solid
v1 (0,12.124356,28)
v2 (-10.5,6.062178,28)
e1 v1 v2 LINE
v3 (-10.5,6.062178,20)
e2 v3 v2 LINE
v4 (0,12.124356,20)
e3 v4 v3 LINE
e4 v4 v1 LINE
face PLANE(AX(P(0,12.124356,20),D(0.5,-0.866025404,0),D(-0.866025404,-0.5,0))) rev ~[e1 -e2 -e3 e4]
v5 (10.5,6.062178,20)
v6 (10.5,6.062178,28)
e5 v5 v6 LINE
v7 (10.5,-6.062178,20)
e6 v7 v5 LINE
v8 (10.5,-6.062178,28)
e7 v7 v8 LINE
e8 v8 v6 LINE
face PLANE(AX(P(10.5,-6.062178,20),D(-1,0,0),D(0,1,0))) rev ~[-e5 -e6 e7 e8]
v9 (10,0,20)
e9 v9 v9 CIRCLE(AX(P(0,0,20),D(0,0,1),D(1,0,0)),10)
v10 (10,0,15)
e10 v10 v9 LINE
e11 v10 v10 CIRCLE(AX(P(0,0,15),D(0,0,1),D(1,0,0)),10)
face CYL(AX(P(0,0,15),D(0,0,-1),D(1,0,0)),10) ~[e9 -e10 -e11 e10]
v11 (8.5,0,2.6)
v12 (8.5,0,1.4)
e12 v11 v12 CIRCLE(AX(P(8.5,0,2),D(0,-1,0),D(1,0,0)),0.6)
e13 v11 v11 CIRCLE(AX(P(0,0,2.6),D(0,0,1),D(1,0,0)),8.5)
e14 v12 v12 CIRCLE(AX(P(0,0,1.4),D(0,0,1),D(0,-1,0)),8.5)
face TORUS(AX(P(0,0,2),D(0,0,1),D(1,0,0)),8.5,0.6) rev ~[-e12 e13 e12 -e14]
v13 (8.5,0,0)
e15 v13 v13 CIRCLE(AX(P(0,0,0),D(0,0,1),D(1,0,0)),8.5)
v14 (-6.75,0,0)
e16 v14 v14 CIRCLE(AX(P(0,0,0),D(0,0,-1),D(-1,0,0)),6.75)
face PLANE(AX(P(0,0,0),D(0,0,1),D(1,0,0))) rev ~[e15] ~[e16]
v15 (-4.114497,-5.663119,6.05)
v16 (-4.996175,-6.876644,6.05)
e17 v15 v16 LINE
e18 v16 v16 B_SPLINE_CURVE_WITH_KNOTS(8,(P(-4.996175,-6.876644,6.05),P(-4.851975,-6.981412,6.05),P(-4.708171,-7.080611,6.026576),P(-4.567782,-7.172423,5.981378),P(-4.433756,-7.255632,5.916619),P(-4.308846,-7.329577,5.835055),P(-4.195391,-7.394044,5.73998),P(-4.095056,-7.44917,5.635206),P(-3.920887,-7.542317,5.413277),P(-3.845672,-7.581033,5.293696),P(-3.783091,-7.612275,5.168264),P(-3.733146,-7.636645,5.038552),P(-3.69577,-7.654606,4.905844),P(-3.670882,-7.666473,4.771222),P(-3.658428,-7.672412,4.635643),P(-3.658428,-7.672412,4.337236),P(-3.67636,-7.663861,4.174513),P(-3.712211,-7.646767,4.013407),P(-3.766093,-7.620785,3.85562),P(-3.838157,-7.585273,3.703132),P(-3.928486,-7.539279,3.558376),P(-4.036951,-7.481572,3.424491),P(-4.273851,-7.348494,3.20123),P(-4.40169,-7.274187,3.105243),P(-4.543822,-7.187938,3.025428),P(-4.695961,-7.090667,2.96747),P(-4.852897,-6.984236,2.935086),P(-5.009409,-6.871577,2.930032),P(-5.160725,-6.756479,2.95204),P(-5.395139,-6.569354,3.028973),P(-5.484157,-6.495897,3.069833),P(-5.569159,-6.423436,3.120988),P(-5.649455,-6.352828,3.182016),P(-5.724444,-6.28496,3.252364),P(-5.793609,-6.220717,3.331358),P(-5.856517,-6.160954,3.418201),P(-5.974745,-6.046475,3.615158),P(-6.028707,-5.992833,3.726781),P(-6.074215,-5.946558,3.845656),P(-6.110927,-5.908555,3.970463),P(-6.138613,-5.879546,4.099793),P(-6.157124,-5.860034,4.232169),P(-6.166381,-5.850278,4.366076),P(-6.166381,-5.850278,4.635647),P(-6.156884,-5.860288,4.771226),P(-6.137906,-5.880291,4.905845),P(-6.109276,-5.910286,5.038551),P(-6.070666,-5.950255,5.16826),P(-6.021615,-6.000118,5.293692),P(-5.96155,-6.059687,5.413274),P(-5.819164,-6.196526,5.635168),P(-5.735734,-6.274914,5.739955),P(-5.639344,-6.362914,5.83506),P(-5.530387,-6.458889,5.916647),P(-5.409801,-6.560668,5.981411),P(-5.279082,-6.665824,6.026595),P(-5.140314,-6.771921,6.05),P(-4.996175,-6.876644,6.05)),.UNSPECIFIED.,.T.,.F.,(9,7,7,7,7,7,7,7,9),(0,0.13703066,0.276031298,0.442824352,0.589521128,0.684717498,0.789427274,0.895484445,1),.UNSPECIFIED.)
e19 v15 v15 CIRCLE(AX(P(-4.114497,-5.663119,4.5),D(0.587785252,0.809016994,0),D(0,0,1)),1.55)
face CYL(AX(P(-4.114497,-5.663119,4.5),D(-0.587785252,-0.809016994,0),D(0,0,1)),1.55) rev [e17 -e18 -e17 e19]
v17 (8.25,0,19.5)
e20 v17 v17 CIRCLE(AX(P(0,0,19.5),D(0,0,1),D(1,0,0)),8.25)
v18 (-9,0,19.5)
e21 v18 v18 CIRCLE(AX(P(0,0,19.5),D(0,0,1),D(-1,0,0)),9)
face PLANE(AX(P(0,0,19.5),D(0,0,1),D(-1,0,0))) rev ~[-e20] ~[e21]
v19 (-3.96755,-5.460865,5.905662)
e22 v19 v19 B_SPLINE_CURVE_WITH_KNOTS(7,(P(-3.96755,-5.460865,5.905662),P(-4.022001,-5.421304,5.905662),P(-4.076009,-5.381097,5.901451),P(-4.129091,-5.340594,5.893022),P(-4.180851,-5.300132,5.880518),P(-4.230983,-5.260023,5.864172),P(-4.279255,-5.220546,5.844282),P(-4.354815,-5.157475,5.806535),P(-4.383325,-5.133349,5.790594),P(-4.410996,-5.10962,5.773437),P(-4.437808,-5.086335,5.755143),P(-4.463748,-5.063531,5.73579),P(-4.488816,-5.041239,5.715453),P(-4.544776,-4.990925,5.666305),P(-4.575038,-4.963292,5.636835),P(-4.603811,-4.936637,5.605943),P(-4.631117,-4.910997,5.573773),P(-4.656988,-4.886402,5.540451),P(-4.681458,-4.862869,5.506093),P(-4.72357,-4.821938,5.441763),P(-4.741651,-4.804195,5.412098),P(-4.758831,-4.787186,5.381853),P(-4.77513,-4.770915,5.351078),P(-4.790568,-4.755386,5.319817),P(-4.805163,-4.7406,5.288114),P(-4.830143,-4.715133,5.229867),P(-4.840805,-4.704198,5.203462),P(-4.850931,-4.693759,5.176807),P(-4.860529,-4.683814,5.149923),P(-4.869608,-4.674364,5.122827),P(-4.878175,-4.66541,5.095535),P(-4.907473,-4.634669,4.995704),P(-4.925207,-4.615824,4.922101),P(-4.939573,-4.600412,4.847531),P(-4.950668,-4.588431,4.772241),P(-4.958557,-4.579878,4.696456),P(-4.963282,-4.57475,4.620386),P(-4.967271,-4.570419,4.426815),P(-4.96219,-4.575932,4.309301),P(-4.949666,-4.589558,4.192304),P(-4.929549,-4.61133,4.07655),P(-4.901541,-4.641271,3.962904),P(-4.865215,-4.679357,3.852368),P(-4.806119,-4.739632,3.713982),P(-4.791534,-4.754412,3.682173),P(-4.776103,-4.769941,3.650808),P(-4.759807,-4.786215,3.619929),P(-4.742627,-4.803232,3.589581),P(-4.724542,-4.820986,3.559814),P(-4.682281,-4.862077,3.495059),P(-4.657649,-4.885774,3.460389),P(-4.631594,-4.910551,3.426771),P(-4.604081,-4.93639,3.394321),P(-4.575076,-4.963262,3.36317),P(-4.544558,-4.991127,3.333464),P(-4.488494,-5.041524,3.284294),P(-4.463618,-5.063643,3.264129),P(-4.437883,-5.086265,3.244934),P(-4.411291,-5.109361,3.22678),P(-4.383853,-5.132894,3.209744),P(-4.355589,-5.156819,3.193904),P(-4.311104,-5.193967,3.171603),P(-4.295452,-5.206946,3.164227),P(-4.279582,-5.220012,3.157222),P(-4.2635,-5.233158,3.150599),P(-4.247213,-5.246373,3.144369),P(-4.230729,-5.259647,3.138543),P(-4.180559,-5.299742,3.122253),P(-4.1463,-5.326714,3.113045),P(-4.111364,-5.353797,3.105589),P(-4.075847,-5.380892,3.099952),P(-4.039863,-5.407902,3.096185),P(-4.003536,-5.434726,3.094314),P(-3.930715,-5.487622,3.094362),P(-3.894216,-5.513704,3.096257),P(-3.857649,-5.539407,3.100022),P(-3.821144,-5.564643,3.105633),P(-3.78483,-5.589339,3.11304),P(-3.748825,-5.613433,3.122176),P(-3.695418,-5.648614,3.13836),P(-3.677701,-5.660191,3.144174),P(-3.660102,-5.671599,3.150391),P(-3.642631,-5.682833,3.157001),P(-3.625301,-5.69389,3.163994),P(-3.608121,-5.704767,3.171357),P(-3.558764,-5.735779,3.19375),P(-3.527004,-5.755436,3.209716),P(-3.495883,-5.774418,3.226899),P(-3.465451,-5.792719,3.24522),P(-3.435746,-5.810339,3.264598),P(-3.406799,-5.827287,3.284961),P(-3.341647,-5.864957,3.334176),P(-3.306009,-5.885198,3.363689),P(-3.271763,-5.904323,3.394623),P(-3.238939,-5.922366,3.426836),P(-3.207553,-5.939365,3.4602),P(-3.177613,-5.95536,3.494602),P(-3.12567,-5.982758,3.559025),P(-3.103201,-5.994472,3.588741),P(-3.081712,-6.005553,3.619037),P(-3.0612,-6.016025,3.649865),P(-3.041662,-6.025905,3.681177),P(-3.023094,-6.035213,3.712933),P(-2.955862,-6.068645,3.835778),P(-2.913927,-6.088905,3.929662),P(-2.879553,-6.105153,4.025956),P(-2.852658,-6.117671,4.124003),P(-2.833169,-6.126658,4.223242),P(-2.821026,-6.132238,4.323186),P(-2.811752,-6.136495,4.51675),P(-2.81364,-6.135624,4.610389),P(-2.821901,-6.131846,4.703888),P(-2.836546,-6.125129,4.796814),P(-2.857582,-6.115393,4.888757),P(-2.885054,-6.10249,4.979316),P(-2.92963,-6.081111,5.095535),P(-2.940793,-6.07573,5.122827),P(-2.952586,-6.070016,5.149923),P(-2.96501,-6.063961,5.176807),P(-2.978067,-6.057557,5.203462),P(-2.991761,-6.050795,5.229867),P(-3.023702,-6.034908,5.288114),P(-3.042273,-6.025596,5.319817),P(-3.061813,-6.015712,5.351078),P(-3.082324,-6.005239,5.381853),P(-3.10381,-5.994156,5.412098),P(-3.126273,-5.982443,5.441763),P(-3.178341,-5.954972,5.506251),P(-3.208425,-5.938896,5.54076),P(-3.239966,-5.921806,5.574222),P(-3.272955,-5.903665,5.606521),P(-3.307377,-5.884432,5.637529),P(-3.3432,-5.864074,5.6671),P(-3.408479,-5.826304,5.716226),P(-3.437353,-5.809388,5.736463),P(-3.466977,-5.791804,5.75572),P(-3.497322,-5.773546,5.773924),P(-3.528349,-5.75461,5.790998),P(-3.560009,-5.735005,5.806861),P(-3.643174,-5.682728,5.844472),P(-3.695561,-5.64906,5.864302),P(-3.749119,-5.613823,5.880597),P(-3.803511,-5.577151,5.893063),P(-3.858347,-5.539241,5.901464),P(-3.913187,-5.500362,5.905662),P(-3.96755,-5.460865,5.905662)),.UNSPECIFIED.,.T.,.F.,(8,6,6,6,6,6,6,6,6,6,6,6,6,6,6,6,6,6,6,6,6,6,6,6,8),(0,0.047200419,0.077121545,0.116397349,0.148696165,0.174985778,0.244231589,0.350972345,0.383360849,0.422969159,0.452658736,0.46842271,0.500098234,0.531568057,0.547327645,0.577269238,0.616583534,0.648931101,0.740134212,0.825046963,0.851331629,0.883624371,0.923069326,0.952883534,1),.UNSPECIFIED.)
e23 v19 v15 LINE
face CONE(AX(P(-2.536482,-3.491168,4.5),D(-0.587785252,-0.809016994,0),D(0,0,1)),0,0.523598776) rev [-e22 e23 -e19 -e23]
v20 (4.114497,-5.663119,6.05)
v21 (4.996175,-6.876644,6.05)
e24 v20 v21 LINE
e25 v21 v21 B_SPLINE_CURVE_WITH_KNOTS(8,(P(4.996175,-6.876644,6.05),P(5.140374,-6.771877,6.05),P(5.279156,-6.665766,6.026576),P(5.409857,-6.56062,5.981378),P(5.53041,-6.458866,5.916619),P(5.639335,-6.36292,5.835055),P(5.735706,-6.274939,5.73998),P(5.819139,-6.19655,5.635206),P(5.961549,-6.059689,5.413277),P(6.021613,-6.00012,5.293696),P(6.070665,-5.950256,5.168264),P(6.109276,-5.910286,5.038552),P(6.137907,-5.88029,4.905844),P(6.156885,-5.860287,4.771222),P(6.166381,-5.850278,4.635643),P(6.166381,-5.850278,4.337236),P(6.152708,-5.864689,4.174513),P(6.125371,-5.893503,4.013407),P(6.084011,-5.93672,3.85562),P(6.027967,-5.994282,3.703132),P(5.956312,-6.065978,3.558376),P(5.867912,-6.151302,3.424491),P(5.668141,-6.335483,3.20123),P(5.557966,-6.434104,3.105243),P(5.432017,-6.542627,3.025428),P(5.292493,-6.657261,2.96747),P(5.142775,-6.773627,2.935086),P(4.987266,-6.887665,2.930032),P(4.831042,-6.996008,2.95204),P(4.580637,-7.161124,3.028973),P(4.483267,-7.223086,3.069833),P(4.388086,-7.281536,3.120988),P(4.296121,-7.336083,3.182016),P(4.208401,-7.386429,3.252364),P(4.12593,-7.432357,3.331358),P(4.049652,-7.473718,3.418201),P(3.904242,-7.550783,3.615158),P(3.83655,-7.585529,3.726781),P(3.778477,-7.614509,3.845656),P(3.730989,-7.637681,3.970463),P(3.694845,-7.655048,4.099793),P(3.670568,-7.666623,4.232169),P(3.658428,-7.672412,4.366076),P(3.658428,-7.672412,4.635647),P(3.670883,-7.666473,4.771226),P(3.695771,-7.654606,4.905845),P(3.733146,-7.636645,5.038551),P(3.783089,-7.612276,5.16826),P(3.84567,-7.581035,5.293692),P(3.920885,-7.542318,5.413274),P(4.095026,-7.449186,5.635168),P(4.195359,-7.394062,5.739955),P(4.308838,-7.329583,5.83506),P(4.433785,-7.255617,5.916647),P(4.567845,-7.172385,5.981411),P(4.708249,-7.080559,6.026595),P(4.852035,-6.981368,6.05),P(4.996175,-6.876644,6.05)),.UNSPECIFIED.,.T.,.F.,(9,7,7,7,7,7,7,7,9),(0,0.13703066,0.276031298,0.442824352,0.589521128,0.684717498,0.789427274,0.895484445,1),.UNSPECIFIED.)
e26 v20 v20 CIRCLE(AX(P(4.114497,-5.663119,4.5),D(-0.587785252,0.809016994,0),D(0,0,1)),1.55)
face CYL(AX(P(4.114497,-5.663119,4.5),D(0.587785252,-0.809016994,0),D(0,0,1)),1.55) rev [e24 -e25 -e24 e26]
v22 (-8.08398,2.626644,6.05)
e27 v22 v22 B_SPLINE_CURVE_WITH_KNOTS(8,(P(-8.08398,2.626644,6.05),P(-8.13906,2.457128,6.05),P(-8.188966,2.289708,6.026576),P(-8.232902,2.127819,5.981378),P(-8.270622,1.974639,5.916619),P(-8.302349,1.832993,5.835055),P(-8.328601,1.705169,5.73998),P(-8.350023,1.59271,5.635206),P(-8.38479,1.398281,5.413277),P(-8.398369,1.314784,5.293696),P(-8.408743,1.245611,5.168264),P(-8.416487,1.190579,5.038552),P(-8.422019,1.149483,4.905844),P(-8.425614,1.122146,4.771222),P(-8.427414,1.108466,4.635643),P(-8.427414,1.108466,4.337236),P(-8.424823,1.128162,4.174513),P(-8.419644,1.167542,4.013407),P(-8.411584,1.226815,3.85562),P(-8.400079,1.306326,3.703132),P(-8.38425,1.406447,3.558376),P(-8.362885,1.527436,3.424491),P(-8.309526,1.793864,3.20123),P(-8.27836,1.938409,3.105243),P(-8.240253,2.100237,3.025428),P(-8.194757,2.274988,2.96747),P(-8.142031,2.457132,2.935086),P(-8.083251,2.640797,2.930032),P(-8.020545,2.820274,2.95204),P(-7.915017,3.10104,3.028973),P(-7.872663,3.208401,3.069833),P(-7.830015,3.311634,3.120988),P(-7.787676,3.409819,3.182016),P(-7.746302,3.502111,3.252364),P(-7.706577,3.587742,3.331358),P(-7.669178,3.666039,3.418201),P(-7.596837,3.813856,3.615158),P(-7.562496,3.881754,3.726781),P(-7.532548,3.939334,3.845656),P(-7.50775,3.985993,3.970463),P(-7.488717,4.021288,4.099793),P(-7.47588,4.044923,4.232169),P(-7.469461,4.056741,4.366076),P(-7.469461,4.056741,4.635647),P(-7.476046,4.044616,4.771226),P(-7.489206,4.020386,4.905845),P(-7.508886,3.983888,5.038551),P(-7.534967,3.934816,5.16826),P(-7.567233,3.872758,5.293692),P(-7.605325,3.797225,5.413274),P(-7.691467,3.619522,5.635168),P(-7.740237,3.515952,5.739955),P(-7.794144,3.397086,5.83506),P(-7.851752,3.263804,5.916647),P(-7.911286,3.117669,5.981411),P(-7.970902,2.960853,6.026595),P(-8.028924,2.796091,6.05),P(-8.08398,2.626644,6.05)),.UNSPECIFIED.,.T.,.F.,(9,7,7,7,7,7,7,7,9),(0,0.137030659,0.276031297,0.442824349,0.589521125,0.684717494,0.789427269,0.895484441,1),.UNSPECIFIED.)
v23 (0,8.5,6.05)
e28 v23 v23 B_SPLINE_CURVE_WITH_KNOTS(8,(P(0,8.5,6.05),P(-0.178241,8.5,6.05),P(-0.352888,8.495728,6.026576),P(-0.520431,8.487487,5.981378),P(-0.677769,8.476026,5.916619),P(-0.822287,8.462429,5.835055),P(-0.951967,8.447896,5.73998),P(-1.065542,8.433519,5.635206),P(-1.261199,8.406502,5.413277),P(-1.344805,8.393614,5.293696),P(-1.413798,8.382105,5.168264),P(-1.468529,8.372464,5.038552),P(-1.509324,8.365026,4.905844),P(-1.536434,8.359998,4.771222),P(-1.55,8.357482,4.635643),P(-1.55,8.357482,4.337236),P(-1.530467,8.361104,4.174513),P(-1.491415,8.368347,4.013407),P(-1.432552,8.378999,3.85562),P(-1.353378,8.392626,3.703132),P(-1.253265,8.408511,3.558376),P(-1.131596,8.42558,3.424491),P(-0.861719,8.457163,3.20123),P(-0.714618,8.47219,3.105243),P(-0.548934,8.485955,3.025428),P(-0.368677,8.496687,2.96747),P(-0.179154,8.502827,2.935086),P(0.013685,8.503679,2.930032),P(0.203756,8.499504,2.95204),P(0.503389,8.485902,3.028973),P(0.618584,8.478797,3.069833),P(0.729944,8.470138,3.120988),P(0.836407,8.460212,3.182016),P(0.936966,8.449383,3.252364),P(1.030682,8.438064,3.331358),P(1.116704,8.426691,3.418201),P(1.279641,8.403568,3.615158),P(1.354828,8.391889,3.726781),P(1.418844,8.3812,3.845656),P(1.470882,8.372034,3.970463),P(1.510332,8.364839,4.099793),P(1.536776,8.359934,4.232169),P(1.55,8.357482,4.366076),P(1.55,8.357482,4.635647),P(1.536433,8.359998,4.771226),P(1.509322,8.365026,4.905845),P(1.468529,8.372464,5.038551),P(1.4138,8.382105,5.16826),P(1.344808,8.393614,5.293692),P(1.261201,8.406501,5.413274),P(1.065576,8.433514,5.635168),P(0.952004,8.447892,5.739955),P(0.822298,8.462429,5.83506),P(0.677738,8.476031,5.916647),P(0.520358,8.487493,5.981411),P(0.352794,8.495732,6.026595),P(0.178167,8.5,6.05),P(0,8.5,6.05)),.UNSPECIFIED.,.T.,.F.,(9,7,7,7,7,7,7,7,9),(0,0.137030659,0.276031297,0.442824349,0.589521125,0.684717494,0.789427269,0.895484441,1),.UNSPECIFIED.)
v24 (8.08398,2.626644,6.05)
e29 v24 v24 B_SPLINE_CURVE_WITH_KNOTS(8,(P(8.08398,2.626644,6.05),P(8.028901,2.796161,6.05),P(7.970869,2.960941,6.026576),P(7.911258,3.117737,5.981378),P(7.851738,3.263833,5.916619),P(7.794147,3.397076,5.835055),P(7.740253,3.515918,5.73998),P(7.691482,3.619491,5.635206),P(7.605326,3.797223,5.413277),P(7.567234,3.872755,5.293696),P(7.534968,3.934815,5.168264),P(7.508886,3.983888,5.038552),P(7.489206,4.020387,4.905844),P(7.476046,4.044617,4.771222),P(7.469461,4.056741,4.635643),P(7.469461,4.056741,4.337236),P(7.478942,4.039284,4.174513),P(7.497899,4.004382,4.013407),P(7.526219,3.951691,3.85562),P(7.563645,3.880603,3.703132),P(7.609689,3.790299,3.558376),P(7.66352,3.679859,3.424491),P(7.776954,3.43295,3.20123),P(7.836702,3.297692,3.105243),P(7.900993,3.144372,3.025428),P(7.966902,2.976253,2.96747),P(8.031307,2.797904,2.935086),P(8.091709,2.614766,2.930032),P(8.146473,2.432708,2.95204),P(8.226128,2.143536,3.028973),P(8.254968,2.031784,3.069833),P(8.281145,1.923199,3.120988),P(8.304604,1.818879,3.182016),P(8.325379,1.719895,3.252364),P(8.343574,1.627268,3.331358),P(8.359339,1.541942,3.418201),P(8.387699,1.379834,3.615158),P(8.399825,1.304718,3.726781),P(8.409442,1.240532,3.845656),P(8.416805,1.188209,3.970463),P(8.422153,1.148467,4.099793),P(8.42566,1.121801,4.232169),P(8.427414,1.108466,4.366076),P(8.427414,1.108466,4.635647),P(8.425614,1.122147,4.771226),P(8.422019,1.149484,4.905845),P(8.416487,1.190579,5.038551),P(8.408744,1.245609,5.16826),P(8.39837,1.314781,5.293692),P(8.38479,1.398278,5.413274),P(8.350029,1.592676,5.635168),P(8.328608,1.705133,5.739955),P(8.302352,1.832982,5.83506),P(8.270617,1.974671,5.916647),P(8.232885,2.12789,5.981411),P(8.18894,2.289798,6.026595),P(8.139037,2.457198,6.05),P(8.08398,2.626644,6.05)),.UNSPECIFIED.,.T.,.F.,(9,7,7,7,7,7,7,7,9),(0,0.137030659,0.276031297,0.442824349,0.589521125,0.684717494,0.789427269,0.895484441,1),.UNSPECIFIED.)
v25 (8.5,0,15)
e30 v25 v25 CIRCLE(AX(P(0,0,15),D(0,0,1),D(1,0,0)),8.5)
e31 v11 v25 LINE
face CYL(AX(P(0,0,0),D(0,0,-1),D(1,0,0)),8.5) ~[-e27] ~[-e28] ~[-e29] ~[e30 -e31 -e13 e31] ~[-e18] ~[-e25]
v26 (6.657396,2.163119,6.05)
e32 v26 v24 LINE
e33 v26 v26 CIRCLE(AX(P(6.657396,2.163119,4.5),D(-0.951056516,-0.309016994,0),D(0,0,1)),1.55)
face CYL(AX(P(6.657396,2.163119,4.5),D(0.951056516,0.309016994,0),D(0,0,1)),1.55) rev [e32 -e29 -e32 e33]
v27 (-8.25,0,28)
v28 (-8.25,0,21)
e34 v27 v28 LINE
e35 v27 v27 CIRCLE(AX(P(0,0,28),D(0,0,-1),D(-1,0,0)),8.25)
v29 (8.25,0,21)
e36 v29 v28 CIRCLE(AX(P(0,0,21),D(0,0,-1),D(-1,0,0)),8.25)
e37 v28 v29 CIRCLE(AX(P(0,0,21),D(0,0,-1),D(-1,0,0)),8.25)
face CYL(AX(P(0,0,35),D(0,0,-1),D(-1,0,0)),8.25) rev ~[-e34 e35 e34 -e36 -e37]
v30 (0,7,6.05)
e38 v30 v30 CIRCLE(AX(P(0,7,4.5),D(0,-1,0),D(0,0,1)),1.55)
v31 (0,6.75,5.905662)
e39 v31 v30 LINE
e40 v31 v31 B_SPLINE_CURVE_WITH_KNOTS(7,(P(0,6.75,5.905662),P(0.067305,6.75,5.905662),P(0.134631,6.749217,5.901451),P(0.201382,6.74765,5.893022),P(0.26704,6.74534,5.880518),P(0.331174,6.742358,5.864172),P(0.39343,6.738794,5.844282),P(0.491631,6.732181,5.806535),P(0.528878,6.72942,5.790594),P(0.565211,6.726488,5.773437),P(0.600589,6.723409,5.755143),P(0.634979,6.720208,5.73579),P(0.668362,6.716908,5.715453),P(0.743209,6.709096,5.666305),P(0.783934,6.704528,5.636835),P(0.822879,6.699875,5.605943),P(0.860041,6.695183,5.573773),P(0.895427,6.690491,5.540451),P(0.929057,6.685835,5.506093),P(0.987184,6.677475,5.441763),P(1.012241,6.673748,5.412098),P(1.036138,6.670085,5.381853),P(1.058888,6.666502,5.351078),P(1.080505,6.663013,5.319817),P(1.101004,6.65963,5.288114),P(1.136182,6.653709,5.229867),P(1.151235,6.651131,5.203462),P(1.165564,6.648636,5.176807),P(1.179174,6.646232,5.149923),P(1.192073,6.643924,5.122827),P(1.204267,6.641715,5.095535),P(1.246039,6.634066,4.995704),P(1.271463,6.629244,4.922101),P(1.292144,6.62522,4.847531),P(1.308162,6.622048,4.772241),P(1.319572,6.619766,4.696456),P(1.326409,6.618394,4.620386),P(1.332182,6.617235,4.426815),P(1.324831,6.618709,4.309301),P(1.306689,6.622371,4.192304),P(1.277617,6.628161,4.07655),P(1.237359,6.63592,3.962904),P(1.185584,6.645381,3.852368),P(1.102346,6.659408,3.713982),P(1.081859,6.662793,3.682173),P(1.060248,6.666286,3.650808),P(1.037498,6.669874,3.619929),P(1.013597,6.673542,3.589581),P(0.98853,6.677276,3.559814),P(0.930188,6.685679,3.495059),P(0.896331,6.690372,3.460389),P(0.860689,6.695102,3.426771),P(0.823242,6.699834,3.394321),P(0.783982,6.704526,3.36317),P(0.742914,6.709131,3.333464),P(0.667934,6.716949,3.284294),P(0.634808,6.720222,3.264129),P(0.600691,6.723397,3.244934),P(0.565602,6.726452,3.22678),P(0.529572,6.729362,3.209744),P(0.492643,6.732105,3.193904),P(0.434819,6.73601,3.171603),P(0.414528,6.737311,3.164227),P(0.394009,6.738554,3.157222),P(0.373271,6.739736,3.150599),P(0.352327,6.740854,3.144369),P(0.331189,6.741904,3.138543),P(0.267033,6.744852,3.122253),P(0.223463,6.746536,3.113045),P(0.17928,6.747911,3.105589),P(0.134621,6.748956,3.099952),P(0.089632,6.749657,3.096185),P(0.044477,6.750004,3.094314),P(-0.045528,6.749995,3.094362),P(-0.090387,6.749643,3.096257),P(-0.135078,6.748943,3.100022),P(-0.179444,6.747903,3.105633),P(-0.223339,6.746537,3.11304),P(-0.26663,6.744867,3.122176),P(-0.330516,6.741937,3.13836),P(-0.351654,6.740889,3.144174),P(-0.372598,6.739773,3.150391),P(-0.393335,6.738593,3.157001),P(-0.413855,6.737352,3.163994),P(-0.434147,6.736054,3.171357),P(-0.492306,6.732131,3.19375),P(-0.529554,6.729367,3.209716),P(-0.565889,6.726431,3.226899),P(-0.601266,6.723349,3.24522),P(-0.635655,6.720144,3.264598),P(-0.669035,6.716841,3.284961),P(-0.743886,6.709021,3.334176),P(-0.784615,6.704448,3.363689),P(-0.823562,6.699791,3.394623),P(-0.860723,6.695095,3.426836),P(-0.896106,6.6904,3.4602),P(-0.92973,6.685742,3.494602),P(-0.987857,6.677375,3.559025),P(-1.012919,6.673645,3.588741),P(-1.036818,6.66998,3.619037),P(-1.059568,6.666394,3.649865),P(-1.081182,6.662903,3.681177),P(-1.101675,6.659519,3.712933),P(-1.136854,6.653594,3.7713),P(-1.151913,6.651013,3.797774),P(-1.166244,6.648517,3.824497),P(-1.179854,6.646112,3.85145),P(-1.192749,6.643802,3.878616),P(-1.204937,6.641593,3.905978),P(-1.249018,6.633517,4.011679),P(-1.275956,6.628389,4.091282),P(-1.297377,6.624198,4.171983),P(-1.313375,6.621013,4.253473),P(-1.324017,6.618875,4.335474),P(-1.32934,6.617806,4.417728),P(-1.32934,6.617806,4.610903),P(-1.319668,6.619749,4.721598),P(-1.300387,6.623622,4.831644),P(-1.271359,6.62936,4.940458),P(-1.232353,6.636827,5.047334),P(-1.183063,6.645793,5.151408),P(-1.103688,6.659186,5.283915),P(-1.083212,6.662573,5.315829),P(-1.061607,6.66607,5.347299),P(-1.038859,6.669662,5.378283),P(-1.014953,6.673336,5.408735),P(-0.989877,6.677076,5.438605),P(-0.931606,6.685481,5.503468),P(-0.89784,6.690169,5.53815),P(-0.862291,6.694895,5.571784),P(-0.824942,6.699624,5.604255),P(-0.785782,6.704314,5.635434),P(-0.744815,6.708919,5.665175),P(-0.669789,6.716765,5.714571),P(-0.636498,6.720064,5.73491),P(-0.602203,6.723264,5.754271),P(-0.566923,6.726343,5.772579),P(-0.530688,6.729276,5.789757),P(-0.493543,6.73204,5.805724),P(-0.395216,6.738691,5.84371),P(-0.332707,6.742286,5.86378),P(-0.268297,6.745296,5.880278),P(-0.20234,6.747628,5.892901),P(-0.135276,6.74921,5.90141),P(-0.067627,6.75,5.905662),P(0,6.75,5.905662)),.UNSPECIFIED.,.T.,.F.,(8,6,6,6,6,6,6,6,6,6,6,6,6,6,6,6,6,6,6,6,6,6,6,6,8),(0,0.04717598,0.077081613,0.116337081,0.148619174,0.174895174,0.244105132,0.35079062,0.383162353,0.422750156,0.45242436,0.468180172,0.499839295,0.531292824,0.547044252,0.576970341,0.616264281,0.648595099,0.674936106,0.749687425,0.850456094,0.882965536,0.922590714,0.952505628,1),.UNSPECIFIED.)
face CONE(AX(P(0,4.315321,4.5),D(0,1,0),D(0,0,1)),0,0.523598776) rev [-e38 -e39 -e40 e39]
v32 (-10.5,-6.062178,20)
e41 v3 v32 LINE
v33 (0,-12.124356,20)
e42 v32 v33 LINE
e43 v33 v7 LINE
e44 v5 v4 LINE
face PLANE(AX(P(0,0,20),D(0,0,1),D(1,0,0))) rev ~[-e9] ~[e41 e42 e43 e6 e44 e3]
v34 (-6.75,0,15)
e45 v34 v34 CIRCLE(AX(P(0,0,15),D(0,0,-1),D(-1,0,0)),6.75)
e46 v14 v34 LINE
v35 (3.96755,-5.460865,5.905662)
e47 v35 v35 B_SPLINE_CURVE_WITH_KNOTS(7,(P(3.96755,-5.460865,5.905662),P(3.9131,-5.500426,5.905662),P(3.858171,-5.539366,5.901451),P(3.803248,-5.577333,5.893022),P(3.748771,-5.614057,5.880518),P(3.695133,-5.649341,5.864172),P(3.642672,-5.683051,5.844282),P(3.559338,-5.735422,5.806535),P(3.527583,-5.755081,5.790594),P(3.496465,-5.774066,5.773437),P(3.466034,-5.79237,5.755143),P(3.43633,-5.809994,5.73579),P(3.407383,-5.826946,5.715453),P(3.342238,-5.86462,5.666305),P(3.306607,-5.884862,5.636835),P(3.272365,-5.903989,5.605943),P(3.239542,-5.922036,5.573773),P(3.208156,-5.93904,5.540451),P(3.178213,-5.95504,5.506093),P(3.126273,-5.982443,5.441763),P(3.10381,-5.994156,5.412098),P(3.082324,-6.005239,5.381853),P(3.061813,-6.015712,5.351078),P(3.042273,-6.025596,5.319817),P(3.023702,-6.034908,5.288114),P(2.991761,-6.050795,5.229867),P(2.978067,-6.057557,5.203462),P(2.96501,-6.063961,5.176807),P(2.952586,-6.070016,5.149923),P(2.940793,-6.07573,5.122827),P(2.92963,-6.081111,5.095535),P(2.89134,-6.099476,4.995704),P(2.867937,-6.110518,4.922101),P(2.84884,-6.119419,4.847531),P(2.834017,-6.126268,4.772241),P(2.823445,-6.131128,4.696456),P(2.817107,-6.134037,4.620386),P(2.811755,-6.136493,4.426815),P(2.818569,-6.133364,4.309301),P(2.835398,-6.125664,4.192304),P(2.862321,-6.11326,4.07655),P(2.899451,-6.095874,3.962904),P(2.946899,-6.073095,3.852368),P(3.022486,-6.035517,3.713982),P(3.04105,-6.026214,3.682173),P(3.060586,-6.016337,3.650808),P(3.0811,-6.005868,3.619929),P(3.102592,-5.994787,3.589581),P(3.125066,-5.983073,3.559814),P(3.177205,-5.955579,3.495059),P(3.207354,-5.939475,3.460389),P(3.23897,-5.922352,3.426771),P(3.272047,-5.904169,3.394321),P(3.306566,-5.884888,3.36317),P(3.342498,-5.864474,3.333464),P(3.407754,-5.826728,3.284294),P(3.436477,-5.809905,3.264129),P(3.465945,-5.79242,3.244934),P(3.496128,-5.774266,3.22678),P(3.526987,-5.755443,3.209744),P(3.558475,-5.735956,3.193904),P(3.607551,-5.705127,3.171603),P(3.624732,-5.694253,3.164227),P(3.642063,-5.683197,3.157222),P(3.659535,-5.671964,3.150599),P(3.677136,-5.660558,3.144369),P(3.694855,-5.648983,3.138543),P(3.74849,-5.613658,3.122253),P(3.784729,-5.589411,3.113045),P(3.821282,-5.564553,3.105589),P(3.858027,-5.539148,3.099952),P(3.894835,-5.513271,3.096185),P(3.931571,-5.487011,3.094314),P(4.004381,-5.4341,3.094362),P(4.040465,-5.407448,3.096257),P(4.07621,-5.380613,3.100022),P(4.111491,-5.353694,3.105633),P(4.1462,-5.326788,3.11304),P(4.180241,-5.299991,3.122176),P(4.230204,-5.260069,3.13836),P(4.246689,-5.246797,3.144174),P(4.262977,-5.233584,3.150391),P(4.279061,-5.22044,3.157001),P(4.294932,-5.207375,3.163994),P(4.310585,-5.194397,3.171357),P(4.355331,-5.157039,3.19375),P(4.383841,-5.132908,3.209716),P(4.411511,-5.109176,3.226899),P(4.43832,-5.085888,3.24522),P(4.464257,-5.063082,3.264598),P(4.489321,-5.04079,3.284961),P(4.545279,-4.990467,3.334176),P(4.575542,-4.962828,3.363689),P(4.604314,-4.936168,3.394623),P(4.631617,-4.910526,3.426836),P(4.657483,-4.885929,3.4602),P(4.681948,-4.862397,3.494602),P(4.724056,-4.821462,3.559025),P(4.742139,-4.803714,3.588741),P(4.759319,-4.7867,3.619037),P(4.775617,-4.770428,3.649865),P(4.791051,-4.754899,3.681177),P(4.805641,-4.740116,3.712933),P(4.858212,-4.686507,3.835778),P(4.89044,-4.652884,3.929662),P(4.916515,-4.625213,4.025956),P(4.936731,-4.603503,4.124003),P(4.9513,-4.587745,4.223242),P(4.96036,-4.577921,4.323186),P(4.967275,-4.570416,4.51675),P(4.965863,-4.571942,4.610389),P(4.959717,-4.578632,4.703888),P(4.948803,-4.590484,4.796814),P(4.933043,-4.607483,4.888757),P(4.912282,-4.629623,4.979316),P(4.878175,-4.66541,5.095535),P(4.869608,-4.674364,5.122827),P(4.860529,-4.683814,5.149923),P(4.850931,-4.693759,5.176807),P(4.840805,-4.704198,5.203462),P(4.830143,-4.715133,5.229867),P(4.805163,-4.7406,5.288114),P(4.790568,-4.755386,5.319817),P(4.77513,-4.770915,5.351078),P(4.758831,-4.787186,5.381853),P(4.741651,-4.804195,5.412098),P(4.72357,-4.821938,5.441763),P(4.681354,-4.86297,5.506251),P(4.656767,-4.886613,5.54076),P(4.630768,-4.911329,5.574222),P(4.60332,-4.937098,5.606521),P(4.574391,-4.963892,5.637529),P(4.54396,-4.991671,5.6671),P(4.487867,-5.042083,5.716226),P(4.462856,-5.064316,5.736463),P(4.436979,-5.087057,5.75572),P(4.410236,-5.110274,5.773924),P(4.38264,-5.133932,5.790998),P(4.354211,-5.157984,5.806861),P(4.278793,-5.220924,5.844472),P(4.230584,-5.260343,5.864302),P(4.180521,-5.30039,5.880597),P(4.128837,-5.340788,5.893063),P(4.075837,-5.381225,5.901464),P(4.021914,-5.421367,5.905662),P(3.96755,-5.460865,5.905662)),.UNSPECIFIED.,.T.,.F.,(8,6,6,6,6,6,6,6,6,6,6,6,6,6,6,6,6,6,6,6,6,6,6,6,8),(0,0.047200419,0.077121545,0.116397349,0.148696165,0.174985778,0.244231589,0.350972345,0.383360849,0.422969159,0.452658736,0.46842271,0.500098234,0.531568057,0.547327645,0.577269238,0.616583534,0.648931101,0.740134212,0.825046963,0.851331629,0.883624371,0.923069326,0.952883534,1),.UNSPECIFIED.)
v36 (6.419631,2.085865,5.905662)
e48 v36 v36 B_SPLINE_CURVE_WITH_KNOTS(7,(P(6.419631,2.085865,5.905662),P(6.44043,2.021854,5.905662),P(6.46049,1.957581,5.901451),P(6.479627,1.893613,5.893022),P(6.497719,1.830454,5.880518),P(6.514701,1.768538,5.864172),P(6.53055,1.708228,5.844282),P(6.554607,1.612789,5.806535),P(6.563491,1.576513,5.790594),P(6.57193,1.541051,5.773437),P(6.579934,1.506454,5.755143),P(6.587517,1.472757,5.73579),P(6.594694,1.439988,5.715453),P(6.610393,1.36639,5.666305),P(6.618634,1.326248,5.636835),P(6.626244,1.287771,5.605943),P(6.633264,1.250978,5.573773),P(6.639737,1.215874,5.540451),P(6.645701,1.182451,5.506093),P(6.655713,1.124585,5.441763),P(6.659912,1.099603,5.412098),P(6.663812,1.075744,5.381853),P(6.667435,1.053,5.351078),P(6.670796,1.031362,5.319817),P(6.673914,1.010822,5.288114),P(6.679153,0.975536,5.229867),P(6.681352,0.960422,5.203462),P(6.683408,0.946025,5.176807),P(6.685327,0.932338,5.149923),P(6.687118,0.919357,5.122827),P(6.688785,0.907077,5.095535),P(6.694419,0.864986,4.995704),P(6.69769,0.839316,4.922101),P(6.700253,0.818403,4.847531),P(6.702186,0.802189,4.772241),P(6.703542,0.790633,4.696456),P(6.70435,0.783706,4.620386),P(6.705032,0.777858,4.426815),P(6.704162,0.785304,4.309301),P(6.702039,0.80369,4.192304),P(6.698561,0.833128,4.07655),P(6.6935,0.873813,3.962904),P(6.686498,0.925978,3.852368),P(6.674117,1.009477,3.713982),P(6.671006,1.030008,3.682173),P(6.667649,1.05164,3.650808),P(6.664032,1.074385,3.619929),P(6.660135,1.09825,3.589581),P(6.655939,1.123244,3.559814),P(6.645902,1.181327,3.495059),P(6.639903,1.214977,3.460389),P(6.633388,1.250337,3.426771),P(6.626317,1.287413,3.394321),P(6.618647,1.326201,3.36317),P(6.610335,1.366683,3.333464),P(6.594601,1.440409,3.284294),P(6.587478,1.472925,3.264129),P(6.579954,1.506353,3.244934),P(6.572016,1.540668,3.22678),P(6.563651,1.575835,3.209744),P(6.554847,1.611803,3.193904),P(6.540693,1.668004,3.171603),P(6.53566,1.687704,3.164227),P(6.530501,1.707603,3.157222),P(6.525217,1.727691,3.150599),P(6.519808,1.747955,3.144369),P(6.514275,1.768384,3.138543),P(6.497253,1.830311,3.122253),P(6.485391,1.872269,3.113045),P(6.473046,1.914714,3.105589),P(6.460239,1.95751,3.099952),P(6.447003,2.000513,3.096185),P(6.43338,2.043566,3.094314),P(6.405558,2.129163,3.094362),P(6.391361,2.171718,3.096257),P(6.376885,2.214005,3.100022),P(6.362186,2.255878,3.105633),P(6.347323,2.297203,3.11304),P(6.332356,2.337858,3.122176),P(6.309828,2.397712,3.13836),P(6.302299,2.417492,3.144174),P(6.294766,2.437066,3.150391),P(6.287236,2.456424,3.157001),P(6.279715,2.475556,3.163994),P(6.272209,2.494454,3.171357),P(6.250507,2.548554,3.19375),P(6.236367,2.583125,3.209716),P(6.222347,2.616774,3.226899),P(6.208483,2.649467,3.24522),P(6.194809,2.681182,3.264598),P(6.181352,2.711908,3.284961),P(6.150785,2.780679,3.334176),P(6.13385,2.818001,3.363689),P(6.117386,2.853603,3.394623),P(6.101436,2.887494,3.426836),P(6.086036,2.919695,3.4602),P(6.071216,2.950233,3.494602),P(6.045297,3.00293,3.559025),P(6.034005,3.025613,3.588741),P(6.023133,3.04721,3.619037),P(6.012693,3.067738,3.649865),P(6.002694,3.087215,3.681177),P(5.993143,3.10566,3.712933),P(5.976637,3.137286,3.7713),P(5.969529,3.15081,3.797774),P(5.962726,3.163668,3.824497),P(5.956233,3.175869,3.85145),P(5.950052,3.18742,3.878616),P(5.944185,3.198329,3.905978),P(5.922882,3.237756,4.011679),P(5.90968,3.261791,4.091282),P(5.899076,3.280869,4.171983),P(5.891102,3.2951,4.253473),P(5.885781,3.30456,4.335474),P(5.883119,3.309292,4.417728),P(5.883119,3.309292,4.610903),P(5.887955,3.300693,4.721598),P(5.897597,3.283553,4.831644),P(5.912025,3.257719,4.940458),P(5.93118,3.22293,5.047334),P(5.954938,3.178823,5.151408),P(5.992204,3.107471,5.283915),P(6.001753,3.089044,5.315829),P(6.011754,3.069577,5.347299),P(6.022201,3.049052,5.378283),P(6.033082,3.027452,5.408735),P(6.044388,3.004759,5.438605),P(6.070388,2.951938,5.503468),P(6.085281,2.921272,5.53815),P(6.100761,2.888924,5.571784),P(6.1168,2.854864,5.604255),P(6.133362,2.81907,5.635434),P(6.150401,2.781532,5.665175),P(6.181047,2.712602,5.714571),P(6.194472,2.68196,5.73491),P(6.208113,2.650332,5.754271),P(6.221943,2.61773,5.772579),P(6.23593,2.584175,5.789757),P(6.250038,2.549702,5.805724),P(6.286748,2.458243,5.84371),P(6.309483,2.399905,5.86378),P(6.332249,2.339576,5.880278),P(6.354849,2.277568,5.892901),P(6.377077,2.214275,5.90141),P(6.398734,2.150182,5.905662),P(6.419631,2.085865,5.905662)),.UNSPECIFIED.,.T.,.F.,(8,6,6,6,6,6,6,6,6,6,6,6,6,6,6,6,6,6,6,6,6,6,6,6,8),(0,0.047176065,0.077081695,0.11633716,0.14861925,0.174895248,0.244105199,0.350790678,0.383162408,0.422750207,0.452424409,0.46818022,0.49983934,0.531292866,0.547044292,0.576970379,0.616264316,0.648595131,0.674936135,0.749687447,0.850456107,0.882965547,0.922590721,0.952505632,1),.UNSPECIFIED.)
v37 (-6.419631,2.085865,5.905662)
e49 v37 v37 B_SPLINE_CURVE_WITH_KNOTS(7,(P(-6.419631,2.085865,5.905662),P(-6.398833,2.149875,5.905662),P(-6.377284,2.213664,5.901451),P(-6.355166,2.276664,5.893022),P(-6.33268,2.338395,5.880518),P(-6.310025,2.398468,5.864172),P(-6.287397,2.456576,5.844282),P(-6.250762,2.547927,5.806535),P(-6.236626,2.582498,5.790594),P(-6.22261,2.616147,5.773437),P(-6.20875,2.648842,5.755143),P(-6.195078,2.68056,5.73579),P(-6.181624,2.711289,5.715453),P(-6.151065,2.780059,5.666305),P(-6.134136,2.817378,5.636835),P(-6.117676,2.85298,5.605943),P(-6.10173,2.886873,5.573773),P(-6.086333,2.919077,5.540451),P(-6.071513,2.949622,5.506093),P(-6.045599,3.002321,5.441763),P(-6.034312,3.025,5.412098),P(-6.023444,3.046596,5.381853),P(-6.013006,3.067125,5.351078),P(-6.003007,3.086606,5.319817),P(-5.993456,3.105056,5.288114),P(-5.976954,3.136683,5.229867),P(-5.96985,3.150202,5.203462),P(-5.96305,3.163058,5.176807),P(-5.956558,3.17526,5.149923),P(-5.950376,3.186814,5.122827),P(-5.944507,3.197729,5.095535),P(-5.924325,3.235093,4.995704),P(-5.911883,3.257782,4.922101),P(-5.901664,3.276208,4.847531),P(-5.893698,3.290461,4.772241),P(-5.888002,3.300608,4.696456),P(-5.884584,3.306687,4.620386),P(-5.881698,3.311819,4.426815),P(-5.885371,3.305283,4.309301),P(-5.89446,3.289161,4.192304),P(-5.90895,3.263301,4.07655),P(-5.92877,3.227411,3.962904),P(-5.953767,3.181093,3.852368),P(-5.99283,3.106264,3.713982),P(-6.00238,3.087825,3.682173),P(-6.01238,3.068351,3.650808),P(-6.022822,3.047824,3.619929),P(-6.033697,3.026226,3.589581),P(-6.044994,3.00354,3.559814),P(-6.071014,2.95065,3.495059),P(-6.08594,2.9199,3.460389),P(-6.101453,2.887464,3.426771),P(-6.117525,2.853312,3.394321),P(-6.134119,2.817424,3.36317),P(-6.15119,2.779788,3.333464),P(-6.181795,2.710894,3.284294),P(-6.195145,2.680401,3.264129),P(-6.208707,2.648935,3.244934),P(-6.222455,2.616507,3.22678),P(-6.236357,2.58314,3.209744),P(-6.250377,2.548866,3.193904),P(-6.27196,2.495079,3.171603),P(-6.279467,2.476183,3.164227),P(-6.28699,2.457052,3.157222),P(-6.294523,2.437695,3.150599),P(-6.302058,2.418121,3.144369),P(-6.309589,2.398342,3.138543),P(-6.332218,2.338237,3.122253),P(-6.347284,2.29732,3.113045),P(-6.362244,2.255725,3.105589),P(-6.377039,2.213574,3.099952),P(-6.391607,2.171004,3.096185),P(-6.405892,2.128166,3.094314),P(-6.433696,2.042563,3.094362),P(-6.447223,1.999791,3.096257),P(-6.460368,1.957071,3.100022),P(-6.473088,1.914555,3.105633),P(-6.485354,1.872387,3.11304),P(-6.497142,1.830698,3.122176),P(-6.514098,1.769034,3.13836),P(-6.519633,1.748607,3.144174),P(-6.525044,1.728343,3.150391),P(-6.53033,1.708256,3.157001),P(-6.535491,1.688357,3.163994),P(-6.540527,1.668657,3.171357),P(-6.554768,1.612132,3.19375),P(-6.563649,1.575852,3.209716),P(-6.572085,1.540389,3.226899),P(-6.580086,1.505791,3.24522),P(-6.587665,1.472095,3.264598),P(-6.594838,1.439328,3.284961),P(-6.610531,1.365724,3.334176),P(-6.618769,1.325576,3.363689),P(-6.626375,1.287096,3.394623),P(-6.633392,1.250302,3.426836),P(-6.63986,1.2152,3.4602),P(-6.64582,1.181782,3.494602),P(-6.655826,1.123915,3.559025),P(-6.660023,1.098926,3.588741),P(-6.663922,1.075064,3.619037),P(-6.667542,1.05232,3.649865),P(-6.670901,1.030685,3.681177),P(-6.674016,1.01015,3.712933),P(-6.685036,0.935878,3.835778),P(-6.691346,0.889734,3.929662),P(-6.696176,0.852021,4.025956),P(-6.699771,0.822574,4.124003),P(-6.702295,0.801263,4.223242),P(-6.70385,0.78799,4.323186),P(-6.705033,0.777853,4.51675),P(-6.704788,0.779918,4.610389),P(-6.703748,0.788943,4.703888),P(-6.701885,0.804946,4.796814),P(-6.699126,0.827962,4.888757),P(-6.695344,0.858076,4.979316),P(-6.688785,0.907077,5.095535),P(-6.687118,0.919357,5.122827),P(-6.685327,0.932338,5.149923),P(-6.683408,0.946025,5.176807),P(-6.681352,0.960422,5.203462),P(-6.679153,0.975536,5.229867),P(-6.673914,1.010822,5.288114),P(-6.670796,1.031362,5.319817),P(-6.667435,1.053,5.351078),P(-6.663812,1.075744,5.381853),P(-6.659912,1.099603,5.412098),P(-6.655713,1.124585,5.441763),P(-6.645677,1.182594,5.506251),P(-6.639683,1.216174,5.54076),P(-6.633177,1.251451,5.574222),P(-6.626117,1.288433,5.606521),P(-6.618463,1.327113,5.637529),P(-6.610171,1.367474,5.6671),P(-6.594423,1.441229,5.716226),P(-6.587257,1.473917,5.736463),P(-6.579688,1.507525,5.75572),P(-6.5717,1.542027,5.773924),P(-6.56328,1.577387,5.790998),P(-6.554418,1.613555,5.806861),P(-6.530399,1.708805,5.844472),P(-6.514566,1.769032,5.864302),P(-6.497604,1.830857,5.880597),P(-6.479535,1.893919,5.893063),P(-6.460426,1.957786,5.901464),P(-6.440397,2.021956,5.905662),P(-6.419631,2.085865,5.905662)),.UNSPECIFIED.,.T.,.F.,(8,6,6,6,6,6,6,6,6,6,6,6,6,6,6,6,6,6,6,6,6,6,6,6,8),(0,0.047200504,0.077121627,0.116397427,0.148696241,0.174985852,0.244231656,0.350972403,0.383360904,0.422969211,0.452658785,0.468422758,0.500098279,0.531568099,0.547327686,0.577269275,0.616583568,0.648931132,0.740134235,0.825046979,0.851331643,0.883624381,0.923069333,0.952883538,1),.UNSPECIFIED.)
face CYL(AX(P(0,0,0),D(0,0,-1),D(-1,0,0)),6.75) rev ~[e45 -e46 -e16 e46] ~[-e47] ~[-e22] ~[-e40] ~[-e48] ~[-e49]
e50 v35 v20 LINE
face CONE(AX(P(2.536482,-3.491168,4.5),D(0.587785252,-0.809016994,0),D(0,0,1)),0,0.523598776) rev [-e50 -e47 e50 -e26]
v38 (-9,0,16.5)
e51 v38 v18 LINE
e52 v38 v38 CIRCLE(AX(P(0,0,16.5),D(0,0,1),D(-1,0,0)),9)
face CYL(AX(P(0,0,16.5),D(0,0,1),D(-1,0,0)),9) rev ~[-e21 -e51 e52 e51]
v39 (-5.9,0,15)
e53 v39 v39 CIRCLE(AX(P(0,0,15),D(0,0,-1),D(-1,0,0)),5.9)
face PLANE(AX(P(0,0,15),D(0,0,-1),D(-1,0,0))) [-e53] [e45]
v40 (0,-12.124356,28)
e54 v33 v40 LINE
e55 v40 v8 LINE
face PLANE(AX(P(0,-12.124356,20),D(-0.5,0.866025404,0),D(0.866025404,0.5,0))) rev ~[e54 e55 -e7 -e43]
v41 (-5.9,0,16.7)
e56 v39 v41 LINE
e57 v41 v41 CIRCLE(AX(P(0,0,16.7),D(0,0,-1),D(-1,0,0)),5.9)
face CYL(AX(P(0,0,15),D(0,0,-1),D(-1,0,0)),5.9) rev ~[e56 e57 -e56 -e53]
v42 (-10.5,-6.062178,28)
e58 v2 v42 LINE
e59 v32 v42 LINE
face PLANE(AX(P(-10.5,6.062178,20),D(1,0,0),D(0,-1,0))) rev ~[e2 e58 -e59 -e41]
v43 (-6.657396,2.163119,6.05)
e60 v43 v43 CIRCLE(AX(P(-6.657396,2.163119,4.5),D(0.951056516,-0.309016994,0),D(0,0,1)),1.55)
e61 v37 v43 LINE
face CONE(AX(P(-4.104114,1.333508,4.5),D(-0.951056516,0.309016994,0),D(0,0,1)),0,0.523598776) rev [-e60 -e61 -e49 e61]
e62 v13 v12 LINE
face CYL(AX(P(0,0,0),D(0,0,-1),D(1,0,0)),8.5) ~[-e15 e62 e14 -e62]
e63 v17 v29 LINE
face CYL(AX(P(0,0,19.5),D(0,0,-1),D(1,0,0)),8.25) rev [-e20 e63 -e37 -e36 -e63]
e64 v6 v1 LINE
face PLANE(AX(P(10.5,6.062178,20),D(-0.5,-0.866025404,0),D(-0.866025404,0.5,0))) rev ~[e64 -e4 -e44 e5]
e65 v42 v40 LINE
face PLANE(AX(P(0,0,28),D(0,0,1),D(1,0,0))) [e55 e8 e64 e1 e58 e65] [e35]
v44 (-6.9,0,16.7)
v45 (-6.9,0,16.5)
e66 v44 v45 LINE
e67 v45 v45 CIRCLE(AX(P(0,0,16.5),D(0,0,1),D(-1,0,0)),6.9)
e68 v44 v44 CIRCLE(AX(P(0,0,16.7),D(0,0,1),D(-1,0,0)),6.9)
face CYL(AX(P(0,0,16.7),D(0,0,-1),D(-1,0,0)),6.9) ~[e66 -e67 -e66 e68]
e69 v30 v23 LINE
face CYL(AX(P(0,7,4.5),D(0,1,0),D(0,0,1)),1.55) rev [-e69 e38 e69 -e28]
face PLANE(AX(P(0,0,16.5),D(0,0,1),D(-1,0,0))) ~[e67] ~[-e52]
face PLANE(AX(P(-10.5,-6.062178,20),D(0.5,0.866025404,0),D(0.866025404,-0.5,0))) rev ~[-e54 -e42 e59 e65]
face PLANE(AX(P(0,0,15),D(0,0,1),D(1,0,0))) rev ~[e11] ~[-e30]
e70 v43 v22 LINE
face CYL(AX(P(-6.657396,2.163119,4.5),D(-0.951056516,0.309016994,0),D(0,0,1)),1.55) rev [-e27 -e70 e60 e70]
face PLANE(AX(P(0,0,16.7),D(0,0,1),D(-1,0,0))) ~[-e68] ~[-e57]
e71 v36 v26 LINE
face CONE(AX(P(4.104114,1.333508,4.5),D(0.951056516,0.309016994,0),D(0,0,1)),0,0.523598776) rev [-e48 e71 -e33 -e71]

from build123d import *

# Parameters (mm, degrees)
SKETCH_2_R               = 8.5
EXTRUDE_1_DEPTH          = 15
SKETCH_3_R               = 10
EXTRUDE_2_DEPTH          = 5
EXTRUDE_3_DEPTH          = 8
SKETCH_6_R               = 6.75
CUT_EXTRUDE_1_DEPTH      = 15
SKETCH_7_R               = 5.9
CUT_EXTRUDE_2_DEPTH      = 22.960191256
M18X1_5_1_D              = 16.5
M18X1_5_1_DEPTH          = 7
M18X1_5_1_TIP            = 4.957100107
CUT_EXTRUDE_START        = 19.5
SKETCH_13_R              = 8.25
CUT_EXTRUDE_3_DEPTH      = 1.5
SWEEP_1_PROFILE_R        = 0.6
PATTERN_CIRCULAR_1_COUNT = 5


with BuildPart() as part:
    # 草图2 → 凸台-拉伸1 (new body)
    with BuildSketch(Plane.XY):
        Circle(SKETCH_2_R)
    extrude(amount=EXTRUDE_1_DEPTH)

    # 草图3 → 凸台-拉伸2 (add)
    with BuildSketch(Plane.XY.offset(15)):
        Circle(SKETCH_3_R)
    extrude(amount=EXTRUDE_2_DEPTH)

    # 草图4 → 凸台-拉伸3 (add)
    with BuildSketch(Plane.XY.offset(20)):
        Polygon((0, 12.124355653), (-10.5, 6.062177826), (-10.5, -6.062177826), (0, -12.124355653), (10.5, -6.062177826), (10.5, 6.062177826), align=None)
    extrude(amount=EXTRUDE_3_DEPTH)

    # 草图6 → 切除-拉伸1 (cut)
    with BuildSketch(Plane(origin=(0, 0, 0), x_dir=(-1, 0, 0), z_dir=(0, 0, -1))):
        Circle(SKETCH_6_R)
    extrude(amount=-CUT_EXTRUDE_1_DEPTH, mode=Mode.SUBTRACT)

    # 草图7 → 切除-拉伸2 (cut, through all)
    with BuildSketch(Plane(origin=(0, 0, 15), x_dir=(-1, 0, 0), z_dir=(0, 0, -1))):
        Circle(SKETCH_7_R)
    extrude(amount=-CUT_EXTRUDE_2_DEPTH, mode=Mode.SUBTRACT)

    # 草图8 → 切除-旋转1 (revolve, cut)
    with BuildSketch(Plane(origin=(0, 0, 0), x_dir=(0, 0, -1), z_dir=(1, 0, 0)), mode=Mode.PRIVATE) as cut_revolve_1_sk:
        Polygon((-16.7, 0), (-16.7, -6.9), (-16.5, -6.9), (-16.5, -9), (-19.5, -9), (-19.5, 0), align=None)
    revolve(cut_revolve_1_sk.sketch.rotate(Axis((0, 0, 5.279548329), (0, 0, 1)), 270), axis=Axis((0, 0, 5.279548329), (0, 0, 1)), mode=Mode.SUBTRACT)

    # M18x1.5 螺纹孔1
    with Locations(Plane.XY.offset(28)):
        with Locations((0, 0)):
            Hole(M18X1_5_1_D / 2, depth=M18X1_5_1_DEPTH)
            with Locations((0, 0, -(M18X1_5_1_DEPTH + M18X1_5_1_TIP / 2))):  # 118° drill point
                Cone(0, M18X1_5_1_D / 2, M18X1_5_1_TIP, mode=Mode.SUBTRACT)

    # 草图13 → 切除-拉伸3 (cut)
    with BuildSketch(Plane.XY.offset(CUT_EXTRUDE_START)):
        Circle(SKETCH_13_R)
    extrude(amount=CUT_EXTRUDE_3_DEPTH, mode=Mode.SUBTRACT)

    # 切除-扫描1: sweep along a path in 草图14
    with BuildLine(Plane.XY.offset(2)) as sweep_1_path:
        CenterArc((0, 0), 8.5, 0, 360)
    # 切除-扫描1 profile (on start of the path) → 切除-扫描1 (sweep, cut)
    with BuildSketch(Plane(origin=(8.5, 0, 2), x_dir=(0, 0, 1), z_dir=(0, 1, 0))):
        Circle(SWEEP_1_PROFILE_R)
    sweep(path=sweep_1_path.line, mode=Mode.SUBTRACT)

    # 草图22 → Ø3.1 (3.1) 直径孔1 (revolve, cut)
    with BuildSketch(Plane(origin=(0, 8.5, 4.5), x_dir=(0, 0, 1), z_dir=(1, 0, 0))):
        Polygon((0, 0), (0, 4.184678752), (1.55, 1.5), (1.55, 0), align=None)
    hole_wizard_3_1_3_1_1 = revolve(axis=Axis((0, 14.85, 4.5), (0, -1, 0)), mode=Mode.SUBTRACT)

    # 阵列(圆周)1: Ø3.1 (3.1) 直径孔1 ×5 about axis
    pattern_circular_1_axis = Axis((0, 0, 0), (0, 0, 1))
    for i in range(1, PATTERN_CIRCULAR_1_COUNT):
        add(hole_wizard_3_1_3_1_1.rotate(pattern_circular_1_axis, i * 360 / PATTERN_CIRCULAR_1_COUNT), mode=Mode.SUBTRACT)


solid = part.part
